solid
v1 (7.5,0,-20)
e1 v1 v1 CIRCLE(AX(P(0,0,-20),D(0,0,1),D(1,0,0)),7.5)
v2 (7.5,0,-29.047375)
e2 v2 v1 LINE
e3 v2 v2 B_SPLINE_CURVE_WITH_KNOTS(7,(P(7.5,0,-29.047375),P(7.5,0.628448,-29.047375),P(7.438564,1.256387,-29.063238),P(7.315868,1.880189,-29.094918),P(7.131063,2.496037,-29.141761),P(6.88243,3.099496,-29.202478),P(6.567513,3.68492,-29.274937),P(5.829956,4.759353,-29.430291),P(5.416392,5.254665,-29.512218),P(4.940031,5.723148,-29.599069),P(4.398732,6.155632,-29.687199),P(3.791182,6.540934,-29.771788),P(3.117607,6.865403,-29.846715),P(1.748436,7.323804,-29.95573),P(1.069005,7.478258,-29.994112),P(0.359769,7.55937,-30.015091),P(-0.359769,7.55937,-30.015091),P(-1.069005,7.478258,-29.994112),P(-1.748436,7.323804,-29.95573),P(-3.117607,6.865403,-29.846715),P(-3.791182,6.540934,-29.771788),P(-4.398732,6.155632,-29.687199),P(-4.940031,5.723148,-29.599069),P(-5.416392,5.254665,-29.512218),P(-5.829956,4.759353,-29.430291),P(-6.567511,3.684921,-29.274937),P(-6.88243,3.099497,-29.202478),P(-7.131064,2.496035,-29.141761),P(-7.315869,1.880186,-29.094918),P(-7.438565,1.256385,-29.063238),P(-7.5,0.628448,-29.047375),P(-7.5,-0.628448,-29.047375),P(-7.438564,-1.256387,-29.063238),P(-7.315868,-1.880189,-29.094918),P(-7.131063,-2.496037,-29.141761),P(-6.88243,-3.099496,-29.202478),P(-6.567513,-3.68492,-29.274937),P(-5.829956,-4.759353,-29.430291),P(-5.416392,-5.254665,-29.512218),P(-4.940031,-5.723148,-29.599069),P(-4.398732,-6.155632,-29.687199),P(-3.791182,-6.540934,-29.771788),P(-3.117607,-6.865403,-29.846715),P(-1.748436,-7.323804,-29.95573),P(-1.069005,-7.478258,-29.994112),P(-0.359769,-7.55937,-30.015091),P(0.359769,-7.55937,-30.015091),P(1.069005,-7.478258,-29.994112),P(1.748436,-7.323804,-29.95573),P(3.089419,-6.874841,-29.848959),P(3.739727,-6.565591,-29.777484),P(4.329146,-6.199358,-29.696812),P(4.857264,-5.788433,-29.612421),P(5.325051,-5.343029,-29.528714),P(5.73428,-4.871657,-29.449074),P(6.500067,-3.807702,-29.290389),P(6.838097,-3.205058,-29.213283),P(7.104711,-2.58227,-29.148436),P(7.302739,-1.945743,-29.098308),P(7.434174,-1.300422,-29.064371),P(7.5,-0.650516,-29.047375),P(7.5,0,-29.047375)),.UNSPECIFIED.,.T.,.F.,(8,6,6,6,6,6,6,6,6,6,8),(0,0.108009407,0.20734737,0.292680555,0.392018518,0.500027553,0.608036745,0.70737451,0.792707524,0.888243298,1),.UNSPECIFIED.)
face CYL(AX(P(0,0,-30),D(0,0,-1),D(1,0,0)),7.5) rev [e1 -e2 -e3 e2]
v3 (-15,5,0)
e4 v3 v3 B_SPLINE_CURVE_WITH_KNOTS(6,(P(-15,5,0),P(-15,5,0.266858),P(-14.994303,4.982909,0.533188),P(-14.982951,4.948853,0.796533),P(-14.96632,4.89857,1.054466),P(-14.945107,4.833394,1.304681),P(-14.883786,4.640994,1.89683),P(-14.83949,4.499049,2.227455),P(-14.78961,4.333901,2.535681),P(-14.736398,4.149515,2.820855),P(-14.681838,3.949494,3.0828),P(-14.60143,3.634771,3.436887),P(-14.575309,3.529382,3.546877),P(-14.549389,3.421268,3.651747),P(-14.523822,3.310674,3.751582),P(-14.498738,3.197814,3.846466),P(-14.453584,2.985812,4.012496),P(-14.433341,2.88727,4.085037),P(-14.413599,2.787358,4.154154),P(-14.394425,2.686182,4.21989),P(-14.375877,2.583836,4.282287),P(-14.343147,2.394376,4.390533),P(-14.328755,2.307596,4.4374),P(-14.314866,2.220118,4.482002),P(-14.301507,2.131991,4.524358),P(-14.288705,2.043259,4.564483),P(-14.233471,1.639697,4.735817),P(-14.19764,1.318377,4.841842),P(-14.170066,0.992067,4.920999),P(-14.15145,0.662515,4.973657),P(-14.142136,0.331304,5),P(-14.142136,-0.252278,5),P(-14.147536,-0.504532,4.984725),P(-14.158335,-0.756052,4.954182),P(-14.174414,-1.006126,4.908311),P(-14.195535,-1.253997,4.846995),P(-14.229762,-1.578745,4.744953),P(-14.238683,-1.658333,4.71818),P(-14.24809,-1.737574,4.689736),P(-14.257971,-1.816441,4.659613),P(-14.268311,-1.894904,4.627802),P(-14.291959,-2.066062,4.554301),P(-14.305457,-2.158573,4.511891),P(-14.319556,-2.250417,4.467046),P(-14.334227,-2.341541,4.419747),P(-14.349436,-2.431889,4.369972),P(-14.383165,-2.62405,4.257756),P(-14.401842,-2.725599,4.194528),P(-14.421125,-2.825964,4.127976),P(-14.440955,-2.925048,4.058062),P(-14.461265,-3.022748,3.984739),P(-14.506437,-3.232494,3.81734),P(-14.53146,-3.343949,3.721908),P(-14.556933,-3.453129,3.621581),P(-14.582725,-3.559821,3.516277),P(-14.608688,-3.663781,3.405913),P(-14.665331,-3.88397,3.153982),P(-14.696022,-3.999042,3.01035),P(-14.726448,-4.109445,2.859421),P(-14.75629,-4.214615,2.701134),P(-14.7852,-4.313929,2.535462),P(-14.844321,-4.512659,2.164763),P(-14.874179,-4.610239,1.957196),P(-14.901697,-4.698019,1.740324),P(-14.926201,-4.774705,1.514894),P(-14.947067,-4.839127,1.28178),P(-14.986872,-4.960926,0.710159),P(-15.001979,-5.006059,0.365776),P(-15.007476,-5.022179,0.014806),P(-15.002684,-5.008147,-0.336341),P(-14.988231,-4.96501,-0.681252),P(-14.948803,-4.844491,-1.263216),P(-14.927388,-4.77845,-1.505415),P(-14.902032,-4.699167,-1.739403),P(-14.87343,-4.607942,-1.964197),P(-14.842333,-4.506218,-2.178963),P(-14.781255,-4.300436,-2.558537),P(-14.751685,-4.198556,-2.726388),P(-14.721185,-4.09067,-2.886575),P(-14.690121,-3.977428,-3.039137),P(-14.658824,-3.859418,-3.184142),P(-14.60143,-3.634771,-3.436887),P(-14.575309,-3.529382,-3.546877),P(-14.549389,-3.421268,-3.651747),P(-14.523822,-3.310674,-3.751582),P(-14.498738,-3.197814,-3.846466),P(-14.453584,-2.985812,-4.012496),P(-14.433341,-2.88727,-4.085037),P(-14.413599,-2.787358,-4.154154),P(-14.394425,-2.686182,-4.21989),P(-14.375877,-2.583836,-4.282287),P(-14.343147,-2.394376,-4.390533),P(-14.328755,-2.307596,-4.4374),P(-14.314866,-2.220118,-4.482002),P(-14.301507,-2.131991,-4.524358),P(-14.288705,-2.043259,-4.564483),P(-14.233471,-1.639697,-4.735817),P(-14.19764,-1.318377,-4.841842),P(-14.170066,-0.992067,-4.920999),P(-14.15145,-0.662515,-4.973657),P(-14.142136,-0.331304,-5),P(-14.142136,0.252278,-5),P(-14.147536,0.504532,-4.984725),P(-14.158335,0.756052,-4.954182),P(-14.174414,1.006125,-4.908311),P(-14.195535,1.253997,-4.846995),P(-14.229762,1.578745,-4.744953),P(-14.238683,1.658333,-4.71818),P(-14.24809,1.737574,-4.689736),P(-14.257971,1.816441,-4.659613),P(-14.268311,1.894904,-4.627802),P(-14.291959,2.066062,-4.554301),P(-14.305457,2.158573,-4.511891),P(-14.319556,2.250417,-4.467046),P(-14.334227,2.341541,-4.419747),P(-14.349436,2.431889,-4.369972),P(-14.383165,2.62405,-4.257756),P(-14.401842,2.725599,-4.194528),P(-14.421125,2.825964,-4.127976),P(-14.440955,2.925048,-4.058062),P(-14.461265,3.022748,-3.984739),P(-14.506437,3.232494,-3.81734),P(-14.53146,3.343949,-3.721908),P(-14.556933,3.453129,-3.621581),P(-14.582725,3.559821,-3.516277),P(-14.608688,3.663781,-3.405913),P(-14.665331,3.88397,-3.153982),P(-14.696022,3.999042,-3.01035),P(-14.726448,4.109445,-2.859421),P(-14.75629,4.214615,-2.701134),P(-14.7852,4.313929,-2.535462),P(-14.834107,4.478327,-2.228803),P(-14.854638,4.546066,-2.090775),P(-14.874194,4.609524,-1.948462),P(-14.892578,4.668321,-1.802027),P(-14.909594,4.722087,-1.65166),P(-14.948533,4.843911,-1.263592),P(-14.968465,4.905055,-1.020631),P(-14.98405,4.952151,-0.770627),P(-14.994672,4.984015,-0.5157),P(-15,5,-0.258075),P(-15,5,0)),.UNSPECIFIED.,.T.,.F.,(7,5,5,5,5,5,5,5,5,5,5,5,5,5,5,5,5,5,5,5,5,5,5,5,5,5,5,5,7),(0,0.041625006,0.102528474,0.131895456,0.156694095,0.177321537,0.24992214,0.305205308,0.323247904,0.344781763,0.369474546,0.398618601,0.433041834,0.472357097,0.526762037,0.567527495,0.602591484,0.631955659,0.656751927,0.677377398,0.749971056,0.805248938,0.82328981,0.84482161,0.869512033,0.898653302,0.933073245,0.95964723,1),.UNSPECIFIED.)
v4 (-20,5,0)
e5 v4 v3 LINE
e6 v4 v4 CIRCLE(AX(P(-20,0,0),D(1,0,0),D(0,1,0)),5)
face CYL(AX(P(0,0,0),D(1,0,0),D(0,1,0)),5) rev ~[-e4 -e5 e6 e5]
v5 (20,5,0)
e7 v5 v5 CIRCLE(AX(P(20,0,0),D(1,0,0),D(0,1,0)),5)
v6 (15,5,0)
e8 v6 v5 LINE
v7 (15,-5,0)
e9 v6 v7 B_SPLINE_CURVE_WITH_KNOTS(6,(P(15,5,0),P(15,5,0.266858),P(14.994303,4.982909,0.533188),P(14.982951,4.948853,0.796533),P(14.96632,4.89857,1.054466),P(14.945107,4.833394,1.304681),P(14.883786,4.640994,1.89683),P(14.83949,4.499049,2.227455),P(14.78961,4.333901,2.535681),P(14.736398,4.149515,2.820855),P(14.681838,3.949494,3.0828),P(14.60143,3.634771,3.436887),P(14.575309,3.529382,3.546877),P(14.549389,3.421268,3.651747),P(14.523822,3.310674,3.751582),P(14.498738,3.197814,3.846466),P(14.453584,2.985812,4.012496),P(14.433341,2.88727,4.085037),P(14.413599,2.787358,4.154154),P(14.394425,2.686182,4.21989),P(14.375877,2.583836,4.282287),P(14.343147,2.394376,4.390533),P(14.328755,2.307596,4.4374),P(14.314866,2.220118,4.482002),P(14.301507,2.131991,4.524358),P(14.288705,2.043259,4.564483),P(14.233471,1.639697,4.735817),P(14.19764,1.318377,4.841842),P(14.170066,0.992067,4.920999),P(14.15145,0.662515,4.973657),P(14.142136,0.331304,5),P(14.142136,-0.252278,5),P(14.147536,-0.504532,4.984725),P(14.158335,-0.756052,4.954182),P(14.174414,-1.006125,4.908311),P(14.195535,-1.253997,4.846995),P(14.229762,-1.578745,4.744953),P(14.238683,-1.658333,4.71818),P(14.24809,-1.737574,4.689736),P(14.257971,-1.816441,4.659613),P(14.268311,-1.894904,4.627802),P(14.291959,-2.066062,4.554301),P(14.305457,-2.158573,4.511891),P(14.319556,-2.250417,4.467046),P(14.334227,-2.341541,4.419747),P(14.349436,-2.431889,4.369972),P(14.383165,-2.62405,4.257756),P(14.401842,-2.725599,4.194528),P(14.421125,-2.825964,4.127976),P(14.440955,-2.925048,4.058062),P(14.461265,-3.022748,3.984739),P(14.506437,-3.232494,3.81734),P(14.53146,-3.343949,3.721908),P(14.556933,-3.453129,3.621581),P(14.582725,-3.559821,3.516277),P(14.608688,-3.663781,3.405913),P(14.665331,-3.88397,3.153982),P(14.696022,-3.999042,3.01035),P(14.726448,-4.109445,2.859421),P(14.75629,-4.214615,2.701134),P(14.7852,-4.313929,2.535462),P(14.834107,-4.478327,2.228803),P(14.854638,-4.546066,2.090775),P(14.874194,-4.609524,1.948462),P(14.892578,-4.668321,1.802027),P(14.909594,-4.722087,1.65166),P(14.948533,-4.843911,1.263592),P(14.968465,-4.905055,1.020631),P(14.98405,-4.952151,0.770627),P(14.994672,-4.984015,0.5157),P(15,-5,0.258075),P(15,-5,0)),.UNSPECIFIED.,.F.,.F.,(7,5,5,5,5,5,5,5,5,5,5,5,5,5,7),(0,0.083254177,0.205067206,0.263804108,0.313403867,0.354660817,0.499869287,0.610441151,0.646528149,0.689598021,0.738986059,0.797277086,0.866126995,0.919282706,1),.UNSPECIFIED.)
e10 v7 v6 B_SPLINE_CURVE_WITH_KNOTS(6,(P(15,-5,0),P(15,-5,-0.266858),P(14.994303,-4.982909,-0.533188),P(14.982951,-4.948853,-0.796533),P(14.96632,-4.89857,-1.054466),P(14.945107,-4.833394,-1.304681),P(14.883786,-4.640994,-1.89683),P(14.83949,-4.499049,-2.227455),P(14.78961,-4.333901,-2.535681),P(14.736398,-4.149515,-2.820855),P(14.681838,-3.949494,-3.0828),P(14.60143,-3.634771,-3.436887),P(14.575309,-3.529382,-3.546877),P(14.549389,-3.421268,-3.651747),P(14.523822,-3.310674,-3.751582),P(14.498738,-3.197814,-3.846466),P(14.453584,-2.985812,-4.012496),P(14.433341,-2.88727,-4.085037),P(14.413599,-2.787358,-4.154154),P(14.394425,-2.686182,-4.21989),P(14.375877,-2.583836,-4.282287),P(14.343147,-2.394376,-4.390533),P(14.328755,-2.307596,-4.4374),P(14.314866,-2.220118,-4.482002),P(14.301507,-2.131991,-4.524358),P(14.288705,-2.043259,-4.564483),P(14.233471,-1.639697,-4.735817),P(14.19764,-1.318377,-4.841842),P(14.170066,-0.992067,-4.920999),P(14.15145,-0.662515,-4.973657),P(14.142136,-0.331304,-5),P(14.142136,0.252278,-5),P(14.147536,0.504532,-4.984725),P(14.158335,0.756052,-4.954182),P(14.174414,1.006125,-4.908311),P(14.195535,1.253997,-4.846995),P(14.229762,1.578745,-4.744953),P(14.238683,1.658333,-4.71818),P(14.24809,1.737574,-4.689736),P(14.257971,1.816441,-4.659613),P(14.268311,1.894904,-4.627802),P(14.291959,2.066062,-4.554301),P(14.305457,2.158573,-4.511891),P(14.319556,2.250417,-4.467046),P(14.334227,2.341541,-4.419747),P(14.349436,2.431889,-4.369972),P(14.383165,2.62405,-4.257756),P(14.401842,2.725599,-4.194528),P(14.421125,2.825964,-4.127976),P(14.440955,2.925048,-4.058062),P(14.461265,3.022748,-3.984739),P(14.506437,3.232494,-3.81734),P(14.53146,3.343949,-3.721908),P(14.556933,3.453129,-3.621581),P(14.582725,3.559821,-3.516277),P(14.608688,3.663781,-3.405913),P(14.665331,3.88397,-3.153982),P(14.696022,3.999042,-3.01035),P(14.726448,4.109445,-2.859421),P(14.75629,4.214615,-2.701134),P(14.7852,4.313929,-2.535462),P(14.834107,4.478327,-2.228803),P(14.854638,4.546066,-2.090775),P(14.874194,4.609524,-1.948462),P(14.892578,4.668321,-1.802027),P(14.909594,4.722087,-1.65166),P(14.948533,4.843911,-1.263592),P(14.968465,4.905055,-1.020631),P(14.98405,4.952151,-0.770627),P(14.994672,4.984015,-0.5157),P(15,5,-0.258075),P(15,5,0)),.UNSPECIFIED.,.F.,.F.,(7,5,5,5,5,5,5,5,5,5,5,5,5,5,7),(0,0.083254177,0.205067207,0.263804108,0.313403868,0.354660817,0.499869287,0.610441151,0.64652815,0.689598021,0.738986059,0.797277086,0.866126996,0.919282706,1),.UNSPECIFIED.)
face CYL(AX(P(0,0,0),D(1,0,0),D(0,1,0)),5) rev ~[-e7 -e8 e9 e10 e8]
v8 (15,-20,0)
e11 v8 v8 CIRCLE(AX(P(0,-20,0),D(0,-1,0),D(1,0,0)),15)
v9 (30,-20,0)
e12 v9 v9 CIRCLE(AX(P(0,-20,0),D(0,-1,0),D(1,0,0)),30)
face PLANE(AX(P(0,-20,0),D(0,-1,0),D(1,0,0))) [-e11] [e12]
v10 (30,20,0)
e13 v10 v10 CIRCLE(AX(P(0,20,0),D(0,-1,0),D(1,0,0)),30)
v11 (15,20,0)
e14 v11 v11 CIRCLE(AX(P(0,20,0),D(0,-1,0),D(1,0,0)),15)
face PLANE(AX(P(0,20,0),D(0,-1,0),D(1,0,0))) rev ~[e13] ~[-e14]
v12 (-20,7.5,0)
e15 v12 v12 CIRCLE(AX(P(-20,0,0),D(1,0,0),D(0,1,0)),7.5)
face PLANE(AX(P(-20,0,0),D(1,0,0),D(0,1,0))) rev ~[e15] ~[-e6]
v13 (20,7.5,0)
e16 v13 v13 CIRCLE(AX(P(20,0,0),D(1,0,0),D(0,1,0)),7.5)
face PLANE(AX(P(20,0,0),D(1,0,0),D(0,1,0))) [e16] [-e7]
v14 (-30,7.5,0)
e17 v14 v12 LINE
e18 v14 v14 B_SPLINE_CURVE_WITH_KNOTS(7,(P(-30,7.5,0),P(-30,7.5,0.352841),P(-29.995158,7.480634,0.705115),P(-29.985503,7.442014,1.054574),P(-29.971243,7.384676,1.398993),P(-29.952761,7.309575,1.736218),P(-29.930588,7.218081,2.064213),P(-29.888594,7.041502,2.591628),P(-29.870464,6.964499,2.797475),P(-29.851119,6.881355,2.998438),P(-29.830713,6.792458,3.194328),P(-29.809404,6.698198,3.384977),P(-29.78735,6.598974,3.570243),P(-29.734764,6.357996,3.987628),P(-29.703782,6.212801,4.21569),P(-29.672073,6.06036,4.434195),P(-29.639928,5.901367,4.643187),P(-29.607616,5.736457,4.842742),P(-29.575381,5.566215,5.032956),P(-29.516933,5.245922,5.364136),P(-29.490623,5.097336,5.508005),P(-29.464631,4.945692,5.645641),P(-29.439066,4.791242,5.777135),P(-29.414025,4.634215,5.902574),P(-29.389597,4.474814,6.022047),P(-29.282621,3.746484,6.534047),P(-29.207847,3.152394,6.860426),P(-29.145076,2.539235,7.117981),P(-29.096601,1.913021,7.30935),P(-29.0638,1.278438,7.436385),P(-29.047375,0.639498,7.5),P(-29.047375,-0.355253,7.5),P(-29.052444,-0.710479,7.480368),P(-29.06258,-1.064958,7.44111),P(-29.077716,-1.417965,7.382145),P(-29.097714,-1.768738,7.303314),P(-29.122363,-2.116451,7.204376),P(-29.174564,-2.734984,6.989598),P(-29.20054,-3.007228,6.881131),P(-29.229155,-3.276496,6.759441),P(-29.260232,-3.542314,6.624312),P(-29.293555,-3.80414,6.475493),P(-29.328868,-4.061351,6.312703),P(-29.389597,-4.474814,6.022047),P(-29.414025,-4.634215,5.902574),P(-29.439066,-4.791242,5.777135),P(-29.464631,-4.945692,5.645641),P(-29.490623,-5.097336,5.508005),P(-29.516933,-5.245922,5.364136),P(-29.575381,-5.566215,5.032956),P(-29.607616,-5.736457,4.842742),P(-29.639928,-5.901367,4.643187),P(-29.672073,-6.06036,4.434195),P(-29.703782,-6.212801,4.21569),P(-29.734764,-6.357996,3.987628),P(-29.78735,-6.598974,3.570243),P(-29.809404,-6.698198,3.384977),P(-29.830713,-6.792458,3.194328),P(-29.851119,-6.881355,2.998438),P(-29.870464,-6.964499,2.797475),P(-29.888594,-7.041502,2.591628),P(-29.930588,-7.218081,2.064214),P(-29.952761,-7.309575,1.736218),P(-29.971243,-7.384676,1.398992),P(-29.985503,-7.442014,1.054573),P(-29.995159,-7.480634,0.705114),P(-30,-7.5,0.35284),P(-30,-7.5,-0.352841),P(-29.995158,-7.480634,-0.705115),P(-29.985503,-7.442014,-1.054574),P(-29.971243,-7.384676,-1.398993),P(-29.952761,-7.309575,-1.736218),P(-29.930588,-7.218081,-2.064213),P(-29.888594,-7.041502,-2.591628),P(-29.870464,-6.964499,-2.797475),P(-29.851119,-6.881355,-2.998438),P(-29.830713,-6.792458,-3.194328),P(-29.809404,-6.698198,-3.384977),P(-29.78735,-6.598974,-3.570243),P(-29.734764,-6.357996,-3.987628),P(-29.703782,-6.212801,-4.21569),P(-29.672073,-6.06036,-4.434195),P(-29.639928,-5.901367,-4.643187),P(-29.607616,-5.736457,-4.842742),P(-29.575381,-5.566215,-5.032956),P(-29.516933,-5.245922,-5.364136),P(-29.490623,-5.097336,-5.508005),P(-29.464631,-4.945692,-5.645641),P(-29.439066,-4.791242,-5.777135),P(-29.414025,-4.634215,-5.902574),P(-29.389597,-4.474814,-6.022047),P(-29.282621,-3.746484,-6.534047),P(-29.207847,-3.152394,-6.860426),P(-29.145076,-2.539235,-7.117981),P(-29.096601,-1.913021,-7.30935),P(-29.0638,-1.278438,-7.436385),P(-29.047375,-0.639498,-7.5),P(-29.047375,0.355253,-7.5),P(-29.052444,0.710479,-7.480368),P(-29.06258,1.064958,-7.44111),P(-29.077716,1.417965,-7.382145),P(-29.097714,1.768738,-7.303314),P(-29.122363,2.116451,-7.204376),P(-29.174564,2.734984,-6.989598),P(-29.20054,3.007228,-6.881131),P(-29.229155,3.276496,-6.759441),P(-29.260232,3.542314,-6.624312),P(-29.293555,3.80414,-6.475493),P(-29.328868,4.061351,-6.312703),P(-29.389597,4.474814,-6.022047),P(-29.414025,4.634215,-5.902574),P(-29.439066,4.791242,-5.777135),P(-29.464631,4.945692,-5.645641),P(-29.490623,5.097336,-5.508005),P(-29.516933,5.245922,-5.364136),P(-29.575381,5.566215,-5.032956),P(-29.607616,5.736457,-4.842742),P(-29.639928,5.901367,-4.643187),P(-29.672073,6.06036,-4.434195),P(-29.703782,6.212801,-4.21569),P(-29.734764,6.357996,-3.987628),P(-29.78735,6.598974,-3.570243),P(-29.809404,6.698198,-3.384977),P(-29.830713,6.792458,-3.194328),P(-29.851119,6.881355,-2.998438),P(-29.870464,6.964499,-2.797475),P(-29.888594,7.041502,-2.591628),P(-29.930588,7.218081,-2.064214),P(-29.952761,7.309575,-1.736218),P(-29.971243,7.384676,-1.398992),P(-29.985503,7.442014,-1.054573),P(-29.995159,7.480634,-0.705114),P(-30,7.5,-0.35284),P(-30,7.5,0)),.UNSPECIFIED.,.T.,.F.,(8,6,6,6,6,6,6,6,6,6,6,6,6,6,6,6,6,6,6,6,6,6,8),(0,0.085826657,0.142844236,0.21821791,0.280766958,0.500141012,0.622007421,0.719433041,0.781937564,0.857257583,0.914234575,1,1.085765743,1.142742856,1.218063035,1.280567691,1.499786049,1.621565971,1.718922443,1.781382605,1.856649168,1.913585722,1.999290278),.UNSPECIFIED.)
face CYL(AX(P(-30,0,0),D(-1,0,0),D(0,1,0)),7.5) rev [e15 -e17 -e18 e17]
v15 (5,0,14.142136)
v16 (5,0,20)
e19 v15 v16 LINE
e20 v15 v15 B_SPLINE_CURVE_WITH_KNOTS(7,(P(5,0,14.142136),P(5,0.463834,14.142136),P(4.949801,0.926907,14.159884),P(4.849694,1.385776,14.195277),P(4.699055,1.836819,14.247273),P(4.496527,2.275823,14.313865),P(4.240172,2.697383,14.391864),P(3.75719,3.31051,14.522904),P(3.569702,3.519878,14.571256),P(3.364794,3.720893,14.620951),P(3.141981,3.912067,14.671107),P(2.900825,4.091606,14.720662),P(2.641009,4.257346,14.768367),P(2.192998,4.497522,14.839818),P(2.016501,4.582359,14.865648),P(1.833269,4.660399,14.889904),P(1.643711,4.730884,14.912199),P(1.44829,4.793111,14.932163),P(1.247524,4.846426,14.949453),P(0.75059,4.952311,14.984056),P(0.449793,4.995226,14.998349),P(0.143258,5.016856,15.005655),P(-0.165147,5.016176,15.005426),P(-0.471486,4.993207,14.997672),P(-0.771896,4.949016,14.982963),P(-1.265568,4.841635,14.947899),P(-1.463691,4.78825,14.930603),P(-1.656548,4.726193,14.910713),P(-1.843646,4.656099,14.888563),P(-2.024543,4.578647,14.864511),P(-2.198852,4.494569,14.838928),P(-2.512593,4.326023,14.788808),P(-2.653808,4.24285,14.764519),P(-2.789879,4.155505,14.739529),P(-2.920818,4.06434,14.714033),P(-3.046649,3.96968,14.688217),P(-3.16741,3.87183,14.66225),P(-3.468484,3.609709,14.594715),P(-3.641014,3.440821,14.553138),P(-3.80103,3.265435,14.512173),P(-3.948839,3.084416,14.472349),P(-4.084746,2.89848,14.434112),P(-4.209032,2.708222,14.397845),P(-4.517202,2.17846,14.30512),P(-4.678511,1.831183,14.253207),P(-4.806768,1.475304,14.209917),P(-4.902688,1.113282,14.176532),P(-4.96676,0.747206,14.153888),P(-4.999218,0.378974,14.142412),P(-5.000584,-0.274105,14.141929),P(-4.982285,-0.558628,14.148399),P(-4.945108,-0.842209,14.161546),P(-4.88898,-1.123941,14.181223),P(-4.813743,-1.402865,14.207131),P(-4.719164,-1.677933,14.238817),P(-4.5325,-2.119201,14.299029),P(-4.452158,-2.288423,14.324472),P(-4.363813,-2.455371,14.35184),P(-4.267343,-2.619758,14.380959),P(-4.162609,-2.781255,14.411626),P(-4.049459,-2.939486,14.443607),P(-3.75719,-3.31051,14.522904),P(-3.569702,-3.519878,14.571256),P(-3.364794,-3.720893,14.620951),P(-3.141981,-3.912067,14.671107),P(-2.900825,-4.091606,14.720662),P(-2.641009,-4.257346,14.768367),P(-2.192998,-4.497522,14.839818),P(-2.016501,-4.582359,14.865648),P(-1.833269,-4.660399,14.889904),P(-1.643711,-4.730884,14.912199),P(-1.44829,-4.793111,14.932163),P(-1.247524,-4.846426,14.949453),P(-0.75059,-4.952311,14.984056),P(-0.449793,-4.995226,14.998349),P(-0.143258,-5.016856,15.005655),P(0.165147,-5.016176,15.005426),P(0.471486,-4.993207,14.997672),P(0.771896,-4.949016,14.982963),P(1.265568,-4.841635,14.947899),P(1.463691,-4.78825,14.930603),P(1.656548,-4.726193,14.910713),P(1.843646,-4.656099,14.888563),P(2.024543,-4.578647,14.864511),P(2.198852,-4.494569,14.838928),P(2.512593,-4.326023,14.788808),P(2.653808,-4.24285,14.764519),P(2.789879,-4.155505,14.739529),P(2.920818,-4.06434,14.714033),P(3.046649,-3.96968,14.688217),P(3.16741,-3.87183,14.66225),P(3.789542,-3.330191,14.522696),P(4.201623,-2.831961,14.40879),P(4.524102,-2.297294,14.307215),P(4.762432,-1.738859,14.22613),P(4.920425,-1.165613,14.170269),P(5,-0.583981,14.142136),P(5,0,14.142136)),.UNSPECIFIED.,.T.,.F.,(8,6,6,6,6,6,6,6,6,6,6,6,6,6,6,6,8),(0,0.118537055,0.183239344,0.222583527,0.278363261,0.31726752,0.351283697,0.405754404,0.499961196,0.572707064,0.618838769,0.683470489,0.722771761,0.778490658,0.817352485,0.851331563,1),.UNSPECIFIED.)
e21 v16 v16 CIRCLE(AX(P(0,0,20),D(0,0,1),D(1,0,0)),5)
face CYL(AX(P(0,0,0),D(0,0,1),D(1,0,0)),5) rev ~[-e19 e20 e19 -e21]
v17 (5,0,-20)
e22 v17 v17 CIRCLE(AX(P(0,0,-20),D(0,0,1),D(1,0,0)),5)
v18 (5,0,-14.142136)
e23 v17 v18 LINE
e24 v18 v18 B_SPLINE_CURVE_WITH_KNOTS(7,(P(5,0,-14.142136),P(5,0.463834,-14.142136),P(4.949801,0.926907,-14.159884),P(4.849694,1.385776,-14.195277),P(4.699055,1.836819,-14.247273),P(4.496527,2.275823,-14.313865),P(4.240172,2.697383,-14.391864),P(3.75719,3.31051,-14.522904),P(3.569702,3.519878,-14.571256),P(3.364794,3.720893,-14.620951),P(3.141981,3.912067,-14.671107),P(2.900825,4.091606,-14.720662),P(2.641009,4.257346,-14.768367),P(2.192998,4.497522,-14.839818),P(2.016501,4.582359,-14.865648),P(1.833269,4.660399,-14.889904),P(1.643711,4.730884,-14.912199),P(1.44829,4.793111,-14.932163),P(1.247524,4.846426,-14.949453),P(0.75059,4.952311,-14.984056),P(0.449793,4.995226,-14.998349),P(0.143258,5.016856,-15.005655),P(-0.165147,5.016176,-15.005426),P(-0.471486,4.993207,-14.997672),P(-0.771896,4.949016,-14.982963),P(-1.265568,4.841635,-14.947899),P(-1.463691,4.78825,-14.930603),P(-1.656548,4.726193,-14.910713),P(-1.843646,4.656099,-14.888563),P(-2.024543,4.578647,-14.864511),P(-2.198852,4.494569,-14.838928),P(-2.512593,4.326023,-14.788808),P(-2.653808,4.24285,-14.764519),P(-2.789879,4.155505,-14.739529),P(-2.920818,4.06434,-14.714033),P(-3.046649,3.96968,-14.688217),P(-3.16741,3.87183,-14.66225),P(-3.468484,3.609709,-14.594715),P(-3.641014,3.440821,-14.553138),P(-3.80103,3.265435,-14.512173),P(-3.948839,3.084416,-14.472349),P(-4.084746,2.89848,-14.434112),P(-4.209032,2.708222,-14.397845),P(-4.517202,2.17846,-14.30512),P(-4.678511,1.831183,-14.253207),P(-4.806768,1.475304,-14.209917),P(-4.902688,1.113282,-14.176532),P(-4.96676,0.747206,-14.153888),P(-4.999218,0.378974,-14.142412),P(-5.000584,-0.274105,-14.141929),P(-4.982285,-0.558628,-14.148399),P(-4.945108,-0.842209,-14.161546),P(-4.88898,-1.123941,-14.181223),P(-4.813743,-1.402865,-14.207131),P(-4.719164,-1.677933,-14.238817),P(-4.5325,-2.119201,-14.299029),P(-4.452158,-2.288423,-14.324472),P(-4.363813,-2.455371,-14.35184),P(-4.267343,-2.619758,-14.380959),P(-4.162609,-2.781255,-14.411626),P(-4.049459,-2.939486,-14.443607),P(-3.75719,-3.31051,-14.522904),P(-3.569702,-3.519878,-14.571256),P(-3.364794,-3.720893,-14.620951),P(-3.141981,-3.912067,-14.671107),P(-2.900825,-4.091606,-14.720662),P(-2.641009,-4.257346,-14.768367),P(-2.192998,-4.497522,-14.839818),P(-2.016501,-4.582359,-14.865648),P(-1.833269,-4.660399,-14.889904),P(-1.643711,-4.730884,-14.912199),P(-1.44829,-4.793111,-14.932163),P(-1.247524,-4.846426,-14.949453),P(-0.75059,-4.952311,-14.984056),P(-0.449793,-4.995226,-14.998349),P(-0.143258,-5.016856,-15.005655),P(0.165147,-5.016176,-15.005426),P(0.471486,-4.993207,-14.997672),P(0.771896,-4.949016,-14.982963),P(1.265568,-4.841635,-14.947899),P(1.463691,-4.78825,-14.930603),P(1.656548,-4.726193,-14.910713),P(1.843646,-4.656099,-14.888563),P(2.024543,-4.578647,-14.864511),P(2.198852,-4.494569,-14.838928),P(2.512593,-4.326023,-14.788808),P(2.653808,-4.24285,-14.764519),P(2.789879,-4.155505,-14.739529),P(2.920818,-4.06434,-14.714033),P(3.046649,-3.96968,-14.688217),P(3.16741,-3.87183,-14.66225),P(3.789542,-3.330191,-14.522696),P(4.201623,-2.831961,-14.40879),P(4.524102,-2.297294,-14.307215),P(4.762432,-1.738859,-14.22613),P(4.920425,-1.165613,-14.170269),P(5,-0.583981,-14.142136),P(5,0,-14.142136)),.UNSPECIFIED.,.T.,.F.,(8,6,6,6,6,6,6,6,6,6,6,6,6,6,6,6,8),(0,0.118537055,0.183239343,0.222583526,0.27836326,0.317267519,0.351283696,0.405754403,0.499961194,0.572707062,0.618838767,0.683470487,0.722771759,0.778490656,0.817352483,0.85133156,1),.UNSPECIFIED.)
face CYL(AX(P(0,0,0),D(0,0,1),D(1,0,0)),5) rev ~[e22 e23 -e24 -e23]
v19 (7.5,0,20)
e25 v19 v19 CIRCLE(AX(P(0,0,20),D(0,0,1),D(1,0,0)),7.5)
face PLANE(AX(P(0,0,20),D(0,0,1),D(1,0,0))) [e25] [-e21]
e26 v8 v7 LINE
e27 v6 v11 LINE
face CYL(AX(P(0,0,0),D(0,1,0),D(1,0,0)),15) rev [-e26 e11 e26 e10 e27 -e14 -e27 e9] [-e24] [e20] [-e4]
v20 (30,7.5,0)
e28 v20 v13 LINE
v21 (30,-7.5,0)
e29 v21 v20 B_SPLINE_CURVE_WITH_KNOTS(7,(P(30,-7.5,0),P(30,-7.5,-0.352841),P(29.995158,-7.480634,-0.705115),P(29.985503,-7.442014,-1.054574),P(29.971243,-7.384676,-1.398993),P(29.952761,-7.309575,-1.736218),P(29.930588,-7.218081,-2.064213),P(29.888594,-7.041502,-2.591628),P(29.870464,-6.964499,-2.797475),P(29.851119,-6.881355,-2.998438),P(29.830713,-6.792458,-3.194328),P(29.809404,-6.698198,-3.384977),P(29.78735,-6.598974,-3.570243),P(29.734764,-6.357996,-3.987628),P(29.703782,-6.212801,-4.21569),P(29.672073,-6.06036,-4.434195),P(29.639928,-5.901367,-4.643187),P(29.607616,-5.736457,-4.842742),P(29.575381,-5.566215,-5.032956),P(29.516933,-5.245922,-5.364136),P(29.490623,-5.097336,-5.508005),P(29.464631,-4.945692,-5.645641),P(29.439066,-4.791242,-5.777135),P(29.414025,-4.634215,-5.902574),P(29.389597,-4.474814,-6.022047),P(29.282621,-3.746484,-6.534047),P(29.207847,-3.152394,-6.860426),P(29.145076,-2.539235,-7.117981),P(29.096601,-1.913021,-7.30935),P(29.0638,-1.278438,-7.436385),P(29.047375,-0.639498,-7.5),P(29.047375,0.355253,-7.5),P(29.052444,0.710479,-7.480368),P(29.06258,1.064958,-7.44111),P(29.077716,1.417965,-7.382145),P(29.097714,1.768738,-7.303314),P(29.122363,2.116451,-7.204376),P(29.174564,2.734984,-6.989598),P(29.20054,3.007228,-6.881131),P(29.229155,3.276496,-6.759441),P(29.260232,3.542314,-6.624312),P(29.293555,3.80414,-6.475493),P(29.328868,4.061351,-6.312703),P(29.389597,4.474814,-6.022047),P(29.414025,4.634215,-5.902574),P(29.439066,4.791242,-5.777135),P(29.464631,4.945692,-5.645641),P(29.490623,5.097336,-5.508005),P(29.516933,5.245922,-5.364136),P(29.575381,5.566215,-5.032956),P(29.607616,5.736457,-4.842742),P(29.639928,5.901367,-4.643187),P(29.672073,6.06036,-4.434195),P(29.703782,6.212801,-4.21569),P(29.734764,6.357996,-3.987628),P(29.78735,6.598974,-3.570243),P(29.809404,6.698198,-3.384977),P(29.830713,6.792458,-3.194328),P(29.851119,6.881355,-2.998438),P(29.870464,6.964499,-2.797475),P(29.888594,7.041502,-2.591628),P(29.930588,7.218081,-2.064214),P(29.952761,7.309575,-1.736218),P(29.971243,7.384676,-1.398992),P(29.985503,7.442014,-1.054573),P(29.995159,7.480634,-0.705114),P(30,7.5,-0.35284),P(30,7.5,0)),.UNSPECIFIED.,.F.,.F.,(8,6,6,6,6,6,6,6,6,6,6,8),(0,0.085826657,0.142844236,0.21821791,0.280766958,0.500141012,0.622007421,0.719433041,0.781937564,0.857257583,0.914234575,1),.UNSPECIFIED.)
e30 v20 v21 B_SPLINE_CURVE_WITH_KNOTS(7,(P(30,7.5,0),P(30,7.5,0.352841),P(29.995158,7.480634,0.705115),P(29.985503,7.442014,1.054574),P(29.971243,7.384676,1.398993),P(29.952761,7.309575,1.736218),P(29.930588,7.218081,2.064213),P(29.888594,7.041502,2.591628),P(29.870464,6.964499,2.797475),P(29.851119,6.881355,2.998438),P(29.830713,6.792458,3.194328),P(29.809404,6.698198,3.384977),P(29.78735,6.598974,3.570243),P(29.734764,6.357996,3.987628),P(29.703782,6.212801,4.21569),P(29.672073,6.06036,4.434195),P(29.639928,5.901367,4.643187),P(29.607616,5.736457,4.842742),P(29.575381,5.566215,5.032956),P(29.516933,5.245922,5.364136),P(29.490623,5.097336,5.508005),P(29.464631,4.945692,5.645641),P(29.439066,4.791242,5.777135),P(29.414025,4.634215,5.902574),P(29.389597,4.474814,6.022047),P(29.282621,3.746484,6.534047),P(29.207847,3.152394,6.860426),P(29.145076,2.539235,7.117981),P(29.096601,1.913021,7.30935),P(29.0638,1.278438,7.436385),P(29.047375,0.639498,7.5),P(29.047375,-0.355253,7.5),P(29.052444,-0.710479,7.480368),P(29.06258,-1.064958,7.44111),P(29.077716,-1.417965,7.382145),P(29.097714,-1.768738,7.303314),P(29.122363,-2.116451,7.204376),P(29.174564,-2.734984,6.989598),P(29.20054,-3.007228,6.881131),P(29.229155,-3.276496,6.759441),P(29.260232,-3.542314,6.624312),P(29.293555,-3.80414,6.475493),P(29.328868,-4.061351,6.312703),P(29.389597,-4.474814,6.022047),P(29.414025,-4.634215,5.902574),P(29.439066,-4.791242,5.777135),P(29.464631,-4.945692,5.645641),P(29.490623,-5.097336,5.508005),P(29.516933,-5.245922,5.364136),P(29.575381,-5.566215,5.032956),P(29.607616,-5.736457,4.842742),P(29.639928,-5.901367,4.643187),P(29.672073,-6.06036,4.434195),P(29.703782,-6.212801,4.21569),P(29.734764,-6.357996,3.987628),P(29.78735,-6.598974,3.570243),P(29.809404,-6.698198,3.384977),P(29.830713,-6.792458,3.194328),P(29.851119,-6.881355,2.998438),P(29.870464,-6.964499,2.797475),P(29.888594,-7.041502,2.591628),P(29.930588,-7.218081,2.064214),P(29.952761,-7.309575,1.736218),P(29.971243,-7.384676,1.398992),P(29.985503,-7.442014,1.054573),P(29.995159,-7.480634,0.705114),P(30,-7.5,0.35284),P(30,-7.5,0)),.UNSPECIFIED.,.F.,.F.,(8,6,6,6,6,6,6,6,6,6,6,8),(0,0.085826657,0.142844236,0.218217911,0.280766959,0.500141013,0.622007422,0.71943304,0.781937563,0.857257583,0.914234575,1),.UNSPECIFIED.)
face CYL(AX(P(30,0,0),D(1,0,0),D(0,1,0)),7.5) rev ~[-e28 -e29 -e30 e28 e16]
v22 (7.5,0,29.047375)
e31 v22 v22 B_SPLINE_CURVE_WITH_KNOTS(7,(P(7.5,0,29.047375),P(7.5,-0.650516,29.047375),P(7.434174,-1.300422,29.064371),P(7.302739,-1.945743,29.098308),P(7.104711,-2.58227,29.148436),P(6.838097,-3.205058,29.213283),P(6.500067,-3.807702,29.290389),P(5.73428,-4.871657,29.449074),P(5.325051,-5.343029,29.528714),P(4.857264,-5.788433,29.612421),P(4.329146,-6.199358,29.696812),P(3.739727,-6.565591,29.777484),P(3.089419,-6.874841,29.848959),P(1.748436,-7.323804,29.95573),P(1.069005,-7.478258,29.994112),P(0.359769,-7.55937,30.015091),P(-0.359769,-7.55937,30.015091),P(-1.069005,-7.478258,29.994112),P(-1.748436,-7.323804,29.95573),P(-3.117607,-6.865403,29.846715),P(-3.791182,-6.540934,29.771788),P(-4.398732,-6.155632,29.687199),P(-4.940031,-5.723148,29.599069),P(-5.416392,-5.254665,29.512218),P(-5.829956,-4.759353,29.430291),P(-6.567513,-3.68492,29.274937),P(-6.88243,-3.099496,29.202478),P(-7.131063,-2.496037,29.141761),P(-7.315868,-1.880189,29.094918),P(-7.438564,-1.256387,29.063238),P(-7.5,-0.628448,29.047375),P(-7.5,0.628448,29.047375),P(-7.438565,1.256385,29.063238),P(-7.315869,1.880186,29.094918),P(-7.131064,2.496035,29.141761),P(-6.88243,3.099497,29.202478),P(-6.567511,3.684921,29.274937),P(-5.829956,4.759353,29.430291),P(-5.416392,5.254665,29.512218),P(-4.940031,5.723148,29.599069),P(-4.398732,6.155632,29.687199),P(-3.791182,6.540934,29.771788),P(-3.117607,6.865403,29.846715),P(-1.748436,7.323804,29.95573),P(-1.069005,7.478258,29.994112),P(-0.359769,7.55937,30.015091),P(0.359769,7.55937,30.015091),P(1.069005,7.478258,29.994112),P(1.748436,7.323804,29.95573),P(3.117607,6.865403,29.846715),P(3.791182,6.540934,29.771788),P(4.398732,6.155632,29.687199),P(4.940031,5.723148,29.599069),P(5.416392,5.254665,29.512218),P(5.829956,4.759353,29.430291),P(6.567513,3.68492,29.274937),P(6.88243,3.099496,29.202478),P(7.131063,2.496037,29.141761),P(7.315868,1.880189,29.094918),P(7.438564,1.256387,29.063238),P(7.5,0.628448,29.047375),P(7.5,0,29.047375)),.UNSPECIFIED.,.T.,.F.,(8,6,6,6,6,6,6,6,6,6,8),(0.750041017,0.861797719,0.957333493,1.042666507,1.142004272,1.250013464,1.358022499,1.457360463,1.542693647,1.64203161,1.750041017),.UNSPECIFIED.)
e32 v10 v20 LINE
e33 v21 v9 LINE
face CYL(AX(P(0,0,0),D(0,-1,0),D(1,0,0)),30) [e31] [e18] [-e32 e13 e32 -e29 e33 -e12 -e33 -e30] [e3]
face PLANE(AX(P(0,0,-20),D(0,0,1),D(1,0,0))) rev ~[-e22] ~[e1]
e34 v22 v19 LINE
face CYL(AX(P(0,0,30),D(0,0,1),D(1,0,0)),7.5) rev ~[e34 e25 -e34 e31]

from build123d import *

# Parameters (mm, degrees)
F0_R      = 30
F0_R_2    = 15
F1_DEPTH  = 20
F2_R      = 5
F3_DEPTH  = 50.4
F6_R      = 7.5
F7_DEPTH  = 10
F8_R      = 7.5
F9_DEPTH  = 10
F10_R     = 5
F11_DEPTH = 44.6
F13_R     = 7.5
F14_DEPTH = 10
F16_R     = 7.5
F17_DEPTH = 10


with BuildPart() as f1:
    # F0 (on Front) → F1 (new body, symmetric)
    with BuildSketch(Plane.XZ):
        Circle(F0_R)
        Circle(F0_R_2, mode=Mode.SUBTRACT)
    extrude(amount=F1_DEPTH, both=True)

    # F2 (on Top) → F3 (cut, symmetric)
    with BuildSketch(Plane.XY):
        Circle(F2_R)
    extrude(amount=F3_DEPTH, both=True, mode=Mode.SUBTRACT)

    # F6 (on offset) → F7 (cut)
    with BuildSketch(Plane.XY.offset(30)):
        Circle(F6_R)
    extrude(amount=-F7_DEPTH, mode=Mode.SUBTRACT)

    # F8 (on offset) → F9 (cut)
    with BuildSketch(Plane.XY.offset(-30)):
        Circle(F8_R)
    extrude(amount=F9_DEPTH, mode=Mode.SUBTRACT)

    # F10 (on Right) → F11 (cut, symmetric)
    with BuildSketch(Plane.YZ):
        Circle(F10_R)
    extrude(amount=F11_DEPTH, both=True, mode=Mode.SUBTRACT)

    # F13 (on offset) → F14 (cut)
    with BuildSketch(Plane.YZ.offset(30)):
        Circle(F13_R)
    extrude(amount=-F14_DEPTH, mode=Mode.SUBTRACT)

    # F16 (on offset) → F17 (cut)
    with BuildSketch(Plane.YZ.offset(-30)):
        Circle(F16_R)
    extrude(amount=F17_DEPTH, mode=Mode.SUBTRACT)


solid = f1.part
